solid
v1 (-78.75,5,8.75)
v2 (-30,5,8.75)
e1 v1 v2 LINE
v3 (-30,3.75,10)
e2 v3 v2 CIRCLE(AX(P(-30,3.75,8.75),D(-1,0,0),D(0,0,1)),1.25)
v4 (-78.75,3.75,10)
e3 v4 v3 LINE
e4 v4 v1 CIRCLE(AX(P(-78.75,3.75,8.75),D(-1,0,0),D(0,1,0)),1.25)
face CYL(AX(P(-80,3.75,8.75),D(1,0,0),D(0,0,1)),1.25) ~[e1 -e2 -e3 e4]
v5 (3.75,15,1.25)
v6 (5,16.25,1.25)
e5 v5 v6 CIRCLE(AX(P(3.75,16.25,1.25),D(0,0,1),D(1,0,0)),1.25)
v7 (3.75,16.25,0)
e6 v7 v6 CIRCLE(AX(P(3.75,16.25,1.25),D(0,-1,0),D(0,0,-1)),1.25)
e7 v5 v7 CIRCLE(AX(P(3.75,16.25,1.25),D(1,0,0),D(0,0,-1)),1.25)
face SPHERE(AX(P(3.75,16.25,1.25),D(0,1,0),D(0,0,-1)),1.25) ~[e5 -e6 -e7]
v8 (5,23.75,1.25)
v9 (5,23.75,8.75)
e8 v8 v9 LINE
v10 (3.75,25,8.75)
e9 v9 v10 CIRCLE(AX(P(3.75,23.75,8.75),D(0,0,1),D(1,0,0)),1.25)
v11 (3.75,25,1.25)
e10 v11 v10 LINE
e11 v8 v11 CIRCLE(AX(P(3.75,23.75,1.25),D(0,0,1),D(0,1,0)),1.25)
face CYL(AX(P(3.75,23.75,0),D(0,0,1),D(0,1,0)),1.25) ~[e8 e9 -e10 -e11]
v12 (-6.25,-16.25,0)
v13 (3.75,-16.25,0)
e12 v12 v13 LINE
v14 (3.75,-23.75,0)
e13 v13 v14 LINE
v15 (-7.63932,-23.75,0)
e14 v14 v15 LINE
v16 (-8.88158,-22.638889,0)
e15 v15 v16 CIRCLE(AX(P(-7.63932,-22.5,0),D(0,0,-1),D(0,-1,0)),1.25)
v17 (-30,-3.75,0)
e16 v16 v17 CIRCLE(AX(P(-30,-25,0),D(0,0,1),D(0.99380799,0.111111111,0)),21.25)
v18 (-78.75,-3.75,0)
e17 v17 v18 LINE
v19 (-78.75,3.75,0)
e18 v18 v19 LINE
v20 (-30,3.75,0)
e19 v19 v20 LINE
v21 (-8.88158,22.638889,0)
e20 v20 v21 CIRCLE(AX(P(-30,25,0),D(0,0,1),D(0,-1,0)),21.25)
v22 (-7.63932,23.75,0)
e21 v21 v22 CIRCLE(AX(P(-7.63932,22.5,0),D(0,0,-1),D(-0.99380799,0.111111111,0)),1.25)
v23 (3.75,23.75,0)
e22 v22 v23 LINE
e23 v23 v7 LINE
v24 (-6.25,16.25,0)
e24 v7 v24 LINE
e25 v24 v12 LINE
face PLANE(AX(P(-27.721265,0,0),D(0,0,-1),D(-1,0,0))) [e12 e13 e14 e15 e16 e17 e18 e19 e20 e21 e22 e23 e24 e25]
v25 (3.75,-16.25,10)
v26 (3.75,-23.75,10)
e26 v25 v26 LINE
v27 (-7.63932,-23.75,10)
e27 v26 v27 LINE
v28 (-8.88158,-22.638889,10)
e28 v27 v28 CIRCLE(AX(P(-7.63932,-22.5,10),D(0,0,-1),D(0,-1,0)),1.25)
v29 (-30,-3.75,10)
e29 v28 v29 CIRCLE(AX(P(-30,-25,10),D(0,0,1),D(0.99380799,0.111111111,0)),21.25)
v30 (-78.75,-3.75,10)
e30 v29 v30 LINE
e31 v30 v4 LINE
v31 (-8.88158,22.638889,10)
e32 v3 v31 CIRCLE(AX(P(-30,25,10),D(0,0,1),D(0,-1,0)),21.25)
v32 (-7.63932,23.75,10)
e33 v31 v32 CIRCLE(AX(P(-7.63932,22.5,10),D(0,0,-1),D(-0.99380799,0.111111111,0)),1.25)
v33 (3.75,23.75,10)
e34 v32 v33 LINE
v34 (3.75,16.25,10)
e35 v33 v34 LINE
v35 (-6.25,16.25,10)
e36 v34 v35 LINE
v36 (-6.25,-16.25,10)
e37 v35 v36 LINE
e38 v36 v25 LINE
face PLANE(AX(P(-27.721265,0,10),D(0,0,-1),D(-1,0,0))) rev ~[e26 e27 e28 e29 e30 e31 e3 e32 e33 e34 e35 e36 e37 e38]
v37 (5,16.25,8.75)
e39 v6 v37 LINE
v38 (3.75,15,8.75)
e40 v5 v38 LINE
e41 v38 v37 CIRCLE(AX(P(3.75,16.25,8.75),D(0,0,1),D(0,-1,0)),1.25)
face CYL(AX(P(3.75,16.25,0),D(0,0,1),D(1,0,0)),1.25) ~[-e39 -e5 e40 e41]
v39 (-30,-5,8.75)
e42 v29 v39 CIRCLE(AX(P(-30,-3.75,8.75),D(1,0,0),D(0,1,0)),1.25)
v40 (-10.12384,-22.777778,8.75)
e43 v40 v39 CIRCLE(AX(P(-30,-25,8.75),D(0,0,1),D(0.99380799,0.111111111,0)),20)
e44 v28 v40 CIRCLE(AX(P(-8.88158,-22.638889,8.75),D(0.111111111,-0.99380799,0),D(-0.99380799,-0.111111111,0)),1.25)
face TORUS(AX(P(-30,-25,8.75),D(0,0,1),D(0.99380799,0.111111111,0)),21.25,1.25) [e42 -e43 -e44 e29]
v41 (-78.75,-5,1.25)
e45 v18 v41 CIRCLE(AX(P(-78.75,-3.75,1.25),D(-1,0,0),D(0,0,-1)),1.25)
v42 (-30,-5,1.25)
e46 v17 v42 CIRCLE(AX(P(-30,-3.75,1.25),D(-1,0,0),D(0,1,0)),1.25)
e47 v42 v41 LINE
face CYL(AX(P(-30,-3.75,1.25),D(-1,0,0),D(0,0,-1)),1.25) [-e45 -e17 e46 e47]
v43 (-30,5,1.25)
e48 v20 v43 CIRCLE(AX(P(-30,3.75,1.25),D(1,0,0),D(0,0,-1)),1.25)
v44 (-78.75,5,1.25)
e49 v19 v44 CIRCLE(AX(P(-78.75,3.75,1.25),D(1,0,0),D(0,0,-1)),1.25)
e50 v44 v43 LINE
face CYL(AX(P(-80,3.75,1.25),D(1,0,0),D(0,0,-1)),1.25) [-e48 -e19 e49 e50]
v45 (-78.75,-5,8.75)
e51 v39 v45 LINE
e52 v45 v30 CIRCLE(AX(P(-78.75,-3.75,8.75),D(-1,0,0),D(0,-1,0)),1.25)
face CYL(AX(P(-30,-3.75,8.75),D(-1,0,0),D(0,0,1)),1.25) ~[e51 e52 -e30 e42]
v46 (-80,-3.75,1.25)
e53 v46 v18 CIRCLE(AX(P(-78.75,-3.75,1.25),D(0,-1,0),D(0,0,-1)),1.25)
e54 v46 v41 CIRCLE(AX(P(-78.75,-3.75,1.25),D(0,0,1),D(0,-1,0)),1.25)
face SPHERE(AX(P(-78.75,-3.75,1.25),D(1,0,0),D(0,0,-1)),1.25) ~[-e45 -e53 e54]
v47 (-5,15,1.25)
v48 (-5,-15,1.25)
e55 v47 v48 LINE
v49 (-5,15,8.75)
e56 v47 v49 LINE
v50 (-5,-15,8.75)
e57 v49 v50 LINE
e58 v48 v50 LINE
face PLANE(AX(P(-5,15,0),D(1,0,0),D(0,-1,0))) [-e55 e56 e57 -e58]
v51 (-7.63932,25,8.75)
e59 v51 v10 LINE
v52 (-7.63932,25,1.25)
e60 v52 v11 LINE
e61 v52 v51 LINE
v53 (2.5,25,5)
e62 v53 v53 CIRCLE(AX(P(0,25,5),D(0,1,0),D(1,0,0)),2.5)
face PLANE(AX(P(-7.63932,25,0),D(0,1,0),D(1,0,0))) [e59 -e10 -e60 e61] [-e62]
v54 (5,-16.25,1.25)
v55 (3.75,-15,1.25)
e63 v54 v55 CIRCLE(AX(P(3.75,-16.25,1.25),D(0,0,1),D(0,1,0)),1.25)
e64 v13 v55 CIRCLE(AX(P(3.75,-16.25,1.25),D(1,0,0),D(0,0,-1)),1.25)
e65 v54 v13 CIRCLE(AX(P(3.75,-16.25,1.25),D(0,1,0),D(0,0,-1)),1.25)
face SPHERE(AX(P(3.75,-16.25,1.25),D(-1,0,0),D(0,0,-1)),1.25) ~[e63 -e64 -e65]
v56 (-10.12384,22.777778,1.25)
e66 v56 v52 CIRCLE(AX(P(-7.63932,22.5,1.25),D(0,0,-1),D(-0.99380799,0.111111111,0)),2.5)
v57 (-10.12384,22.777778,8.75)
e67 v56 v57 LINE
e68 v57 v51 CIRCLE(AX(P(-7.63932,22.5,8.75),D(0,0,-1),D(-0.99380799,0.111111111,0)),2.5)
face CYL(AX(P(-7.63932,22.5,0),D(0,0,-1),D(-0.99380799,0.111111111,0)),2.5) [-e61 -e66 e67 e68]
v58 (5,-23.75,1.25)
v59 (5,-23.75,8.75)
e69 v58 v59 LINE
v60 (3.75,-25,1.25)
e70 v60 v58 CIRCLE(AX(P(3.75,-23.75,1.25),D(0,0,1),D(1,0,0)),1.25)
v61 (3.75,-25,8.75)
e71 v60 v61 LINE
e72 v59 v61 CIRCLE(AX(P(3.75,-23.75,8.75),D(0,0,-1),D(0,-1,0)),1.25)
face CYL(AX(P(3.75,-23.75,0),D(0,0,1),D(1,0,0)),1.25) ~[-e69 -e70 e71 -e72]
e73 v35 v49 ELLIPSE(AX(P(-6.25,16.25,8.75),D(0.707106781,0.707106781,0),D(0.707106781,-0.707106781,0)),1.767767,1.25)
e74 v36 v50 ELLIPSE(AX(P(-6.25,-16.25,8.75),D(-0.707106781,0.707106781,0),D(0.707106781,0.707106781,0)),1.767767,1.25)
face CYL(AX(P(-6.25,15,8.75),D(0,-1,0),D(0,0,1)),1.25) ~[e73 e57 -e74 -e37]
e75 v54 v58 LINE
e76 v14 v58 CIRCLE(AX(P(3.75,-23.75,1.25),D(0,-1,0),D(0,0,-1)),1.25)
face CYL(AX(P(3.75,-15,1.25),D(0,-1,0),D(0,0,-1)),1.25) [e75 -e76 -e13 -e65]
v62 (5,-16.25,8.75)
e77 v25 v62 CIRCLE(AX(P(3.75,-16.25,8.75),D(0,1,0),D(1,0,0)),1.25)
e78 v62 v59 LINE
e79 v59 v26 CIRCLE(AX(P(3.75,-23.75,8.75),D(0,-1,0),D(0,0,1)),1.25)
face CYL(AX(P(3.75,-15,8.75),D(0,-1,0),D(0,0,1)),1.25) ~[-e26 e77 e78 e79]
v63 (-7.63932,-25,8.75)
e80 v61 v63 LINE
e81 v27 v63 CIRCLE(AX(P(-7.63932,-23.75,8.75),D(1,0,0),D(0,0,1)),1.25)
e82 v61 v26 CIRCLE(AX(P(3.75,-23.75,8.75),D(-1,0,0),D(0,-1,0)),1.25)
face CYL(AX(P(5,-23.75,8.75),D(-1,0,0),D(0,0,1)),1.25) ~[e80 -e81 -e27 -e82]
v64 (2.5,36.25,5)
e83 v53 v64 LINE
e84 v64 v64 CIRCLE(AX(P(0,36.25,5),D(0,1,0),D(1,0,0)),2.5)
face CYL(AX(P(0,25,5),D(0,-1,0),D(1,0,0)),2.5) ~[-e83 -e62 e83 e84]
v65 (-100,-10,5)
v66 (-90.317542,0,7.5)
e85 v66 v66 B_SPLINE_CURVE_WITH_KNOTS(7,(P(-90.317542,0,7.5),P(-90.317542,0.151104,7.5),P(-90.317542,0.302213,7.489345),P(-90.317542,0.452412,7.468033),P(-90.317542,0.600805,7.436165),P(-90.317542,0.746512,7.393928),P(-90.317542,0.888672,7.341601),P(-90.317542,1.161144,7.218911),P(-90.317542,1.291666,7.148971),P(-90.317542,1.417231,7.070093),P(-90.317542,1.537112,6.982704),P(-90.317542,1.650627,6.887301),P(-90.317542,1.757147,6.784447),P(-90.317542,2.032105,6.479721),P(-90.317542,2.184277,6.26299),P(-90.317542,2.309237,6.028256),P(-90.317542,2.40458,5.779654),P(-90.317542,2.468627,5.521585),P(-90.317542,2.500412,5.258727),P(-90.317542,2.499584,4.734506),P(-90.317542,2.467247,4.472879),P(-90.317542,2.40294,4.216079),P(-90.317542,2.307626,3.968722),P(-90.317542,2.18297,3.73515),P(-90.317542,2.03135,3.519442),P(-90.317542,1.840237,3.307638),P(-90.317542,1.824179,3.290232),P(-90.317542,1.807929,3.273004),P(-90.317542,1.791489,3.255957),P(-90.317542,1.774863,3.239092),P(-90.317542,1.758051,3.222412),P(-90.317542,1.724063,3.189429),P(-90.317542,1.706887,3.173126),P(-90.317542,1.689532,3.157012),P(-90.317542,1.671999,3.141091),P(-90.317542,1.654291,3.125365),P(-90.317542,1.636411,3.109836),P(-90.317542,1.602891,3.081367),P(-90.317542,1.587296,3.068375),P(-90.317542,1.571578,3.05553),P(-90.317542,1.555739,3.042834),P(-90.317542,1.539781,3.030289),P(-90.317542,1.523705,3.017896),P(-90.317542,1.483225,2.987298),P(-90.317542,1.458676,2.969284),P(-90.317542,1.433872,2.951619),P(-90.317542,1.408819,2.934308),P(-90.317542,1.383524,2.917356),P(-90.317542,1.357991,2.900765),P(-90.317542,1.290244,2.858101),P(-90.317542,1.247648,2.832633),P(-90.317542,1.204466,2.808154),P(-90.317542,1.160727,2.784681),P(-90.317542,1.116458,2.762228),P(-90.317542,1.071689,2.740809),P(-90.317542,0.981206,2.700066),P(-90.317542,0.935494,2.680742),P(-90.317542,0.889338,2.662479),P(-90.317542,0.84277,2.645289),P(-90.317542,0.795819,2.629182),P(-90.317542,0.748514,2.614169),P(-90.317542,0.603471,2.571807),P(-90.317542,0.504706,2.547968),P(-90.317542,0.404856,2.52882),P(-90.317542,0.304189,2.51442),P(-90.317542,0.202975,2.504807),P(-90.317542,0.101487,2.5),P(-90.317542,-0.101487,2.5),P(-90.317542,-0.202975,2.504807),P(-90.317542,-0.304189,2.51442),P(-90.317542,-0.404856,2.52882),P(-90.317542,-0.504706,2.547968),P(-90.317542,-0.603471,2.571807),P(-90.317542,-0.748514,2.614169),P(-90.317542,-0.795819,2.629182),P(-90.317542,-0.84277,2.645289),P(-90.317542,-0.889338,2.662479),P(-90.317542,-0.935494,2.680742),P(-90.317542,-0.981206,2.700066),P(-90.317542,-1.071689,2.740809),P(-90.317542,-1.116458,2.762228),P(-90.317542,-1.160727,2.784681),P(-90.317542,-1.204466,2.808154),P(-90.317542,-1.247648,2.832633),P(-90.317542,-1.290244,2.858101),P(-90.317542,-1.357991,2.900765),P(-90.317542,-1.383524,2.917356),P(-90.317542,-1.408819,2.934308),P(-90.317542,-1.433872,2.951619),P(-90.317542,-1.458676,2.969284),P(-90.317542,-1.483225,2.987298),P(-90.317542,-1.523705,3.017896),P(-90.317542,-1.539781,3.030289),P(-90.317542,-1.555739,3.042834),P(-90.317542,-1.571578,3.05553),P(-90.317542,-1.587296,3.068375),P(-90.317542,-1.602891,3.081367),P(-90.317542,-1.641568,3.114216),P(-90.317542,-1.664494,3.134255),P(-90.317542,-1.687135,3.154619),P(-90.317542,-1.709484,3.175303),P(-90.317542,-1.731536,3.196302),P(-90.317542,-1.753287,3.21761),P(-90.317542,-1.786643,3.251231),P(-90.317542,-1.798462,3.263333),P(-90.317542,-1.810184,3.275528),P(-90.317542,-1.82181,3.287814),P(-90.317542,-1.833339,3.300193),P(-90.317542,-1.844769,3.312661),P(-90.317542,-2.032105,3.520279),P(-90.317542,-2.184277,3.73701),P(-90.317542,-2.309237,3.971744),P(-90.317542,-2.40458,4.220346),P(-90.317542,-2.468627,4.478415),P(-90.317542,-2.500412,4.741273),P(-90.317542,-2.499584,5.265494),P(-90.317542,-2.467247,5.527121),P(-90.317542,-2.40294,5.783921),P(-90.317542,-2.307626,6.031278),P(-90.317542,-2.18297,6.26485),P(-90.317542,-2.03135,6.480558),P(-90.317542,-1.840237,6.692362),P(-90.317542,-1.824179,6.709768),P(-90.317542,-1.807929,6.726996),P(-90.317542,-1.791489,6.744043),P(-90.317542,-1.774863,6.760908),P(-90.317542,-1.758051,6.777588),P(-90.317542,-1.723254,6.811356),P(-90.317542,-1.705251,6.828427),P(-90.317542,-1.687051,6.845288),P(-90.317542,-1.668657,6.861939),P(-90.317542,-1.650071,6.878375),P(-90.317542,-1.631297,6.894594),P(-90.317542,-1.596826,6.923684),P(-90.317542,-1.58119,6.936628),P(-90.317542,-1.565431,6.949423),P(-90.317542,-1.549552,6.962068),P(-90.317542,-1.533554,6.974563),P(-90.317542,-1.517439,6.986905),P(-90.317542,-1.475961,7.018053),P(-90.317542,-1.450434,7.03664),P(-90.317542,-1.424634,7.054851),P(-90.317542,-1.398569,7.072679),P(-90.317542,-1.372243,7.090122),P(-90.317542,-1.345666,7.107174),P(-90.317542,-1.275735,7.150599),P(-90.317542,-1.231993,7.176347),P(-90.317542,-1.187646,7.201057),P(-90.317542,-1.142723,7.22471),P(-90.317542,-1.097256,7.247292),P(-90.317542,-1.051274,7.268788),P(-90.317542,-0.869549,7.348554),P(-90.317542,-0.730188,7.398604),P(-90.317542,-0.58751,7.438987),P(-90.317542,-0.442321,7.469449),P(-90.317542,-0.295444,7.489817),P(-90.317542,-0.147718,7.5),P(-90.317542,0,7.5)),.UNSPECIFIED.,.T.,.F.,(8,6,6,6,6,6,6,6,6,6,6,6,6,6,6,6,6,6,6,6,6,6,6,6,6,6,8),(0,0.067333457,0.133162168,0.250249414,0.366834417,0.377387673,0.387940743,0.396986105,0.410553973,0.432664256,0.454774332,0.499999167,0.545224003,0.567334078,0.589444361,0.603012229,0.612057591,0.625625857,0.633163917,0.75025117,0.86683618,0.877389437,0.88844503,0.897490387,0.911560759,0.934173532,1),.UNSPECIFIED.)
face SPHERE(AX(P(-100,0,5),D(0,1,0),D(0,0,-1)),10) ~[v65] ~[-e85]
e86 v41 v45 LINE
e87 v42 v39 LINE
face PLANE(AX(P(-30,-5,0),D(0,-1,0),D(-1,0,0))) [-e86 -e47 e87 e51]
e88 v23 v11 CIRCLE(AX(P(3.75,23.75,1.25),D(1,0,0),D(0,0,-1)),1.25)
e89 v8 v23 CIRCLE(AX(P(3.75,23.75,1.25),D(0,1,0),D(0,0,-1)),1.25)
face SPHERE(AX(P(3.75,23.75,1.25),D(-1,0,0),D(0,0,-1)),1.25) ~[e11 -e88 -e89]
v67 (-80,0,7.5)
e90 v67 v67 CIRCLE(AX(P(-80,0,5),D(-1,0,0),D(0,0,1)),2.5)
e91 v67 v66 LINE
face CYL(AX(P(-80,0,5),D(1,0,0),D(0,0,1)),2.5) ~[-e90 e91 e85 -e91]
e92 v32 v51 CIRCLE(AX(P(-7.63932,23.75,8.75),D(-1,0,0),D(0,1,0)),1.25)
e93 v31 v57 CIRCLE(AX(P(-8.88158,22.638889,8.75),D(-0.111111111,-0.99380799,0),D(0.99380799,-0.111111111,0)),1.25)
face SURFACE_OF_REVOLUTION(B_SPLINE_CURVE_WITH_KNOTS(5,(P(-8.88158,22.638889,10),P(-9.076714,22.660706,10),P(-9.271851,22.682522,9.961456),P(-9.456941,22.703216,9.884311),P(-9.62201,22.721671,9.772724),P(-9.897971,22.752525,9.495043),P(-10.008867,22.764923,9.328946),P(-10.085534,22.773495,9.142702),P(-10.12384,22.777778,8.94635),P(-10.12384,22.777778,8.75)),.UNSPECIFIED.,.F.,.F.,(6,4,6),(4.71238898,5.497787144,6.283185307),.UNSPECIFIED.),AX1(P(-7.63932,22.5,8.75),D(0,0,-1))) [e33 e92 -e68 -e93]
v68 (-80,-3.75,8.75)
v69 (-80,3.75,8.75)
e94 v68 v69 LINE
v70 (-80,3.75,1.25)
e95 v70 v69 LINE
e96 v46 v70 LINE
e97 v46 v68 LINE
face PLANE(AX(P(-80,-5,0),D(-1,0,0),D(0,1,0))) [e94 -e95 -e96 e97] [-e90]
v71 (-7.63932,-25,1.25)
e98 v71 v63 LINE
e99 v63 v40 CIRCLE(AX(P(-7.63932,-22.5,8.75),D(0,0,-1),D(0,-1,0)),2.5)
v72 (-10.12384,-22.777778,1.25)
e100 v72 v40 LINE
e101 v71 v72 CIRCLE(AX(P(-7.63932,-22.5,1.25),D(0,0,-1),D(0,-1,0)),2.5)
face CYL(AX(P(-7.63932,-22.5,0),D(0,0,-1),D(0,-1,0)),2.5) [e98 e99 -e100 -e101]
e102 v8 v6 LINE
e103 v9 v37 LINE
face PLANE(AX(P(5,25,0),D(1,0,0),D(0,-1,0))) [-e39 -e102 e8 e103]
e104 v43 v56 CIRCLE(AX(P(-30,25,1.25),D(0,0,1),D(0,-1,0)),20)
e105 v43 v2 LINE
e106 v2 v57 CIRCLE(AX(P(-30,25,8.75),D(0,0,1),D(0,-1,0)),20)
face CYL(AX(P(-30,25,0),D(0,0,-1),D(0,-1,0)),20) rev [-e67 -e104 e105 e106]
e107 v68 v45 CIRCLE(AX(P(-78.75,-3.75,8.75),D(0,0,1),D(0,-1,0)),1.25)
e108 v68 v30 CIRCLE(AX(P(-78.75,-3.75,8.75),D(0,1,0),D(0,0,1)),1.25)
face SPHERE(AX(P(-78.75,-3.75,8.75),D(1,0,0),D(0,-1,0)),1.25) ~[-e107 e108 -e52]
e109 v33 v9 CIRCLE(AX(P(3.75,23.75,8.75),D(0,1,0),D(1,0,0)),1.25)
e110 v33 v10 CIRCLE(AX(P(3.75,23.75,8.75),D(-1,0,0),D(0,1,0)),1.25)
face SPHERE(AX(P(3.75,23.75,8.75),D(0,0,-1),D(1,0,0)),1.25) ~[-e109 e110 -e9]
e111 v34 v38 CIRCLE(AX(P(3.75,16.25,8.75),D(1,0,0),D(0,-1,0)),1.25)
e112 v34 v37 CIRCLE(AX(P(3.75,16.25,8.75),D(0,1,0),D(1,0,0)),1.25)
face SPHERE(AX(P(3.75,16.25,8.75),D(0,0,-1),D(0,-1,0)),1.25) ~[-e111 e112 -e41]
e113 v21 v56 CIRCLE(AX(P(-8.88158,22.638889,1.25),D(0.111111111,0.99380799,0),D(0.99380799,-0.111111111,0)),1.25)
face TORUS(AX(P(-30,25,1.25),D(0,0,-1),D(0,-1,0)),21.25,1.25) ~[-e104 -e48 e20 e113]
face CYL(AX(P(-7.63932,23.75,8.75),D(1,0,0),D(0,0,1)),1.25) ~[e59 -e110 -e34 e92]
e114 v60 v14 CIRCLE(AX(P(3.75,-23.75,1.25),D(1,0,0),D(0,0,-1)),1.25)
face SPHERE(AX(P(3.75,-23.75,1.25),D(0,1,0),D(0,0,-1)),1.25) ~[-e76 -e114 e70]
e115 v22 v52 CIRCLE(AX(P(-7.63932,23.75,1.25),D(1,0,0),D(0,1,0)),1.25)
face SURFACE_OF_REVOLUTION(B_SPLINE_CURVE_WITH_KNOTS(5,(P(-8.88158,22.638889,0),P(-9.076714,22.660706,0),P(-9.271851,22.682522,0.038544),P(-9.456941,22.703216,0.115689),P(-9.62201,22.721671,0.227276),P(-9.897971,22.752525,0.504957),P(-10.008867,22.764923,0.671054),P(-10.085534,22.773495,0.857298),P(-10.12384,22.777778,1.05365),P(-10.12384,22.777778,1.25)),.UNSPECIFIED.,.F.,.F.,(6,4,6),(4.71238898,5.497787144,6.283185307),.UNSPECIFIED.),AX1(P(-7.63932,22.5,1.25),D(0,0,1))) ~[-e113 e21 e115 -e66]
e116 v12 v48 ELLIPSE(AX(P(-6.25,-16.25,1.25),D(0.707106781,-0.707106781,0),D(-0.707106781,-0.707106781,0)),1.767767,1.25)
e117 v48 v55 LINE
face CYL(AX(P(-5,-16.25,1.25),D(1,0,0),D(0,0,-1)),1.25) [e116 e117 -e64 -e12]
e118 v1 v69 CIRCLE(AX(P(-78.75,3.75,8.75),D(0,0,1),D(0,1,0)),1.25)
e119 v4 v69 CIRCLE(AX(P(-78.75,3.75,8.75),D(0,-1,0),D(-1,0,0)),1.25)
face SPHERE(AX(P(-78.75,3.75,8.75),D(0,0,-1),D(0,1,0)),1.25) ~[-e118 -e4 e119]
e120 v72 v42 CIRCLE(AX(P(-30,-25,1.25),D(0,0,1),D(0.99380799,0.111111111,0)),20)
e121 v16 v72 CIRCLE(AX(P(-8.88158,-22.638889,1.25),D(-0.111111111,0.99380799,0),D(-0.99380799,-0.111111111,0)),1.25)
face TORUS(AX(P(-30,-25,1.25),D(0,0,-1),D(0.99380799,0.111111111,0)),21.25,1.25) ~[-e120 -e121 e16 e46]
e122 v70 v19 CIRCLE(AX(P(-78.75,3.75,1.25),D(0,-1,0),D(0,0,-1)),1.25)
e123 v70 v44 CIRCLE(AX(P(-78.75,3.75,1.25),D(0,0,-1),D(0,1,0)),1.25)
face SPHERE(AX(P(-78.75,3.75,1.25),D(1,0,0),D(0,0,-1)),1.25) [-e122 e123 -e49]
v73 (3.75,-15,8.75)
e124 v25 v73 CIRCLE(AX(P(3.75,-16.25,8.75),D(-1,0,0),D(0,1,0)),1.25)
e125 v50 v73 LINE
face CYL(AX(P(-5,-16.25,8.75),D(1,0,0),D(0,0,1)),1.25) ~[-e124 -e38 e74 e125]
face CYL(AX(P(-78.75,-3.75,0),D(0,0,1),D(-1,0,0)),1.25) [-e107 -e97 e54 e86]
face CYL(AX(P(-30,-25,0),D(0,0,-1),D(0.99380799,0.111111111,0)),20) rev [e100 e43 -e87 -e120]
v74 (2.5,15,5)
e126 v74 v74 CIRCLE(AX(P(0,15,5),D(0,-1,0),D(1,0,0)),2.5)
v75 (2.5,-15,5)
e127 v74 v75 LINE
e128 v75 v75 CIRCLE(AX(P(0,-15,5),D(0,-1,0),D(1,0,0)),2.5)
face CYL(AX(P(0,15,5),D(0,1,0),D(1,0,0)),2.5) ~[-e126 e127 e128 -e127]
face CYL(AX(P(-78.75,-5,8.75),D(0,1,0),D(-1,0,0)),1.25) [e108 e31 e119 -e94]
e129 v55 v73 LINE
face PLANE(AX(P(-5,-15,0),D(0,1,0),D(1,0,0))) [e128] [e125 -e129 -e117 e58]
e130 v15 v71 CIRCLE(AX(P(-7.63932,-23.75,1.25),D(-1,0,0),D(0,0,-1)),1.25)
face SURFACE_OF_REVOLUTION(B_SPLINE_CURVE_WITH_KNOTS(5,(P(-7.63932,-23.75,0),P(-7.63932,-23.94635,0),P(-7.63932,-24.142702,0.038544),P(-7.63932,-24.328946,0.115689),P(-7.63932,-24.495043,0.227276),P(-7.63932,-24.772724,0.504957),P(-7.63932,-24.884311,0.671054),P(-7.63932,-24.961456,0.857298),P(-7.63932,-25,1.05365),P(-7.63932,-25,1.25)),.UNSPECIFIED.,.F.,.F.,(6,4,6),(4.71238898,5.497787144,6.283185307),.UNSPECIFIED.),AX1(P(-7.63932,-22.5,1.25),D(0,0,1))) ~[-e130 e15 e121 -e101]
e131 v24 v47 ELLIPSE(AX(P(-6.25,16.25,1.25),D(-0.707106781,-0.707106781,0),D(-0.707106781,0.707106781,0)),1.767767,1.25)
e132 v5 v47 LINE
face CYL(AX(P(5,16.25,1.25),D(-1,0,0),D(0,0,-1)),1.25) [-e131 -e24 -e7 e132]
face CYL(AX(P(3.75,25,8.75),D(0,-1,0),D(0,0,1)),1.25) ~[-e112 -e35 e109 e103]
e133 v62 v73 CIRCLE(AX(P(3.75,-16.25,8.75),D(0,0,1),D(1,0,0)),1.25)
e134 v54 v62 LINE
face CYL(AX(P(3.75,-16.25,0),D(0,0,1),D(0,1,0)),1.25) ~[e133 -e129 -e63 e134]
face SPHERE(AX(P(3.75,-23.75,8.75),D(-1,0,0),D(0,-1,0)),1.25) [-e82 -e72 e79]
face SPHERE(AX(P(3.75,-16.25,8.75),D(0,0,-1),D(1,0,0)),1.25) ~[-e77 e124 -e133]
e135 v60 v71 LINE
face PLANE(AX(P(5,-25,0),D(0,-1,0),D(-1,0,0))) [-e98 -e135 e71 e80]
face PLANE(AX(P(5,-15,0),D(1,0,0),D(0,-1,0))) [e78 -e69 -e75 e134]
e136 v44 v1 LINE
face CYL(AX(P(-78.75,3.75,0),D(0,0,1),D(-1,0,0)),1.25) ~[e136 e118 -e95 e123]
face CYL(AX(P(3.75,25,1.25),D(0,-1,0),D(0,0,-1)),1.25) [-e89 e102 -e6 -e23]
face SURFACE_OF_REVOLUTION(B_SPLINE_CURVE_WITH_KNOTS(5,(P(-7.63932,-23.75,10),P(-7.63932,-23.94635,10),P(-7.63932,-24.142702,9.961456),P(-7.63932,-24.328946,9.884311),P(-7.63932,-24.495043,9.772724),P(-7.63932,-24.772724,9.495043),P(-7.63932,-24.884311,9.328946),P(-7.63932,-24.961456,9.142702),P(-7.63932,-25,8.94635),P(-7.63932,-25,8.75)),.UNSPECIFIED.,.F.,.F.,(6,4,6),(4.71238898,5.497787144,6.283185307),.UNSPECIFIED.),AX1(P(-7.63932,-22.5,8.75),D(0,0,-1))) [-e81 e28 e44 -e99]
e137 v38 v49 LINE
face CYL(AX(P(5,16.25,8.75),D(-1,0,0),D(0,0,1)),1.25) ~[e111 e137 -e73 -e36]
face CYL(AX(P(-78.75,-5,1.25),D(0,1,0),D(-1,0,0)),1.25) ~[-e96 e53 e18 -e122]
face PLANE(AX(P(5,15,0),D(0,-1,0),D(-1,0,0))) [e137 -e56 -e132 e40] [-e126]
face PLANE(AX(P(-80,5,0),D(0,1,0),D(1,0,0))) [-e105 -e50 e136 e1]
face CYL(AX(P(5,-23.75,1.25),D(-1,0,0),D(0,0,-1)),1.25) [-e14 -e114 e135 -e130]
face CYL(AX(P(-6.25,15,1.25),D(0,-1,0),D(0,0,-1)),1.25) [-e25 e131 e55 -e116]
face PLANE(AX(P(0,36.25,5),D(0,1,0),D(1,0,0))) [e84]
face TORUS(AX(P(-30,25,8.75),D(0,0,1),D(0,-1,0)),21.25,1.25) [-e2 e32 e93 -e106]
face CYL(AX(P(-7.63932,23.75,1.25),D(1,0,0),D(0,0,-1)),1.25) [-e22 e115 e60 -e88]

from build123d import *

# Parameters (mm, degrees)
BOSS_EXTRUDE2_DEPTH = 10
SKETCH2_R           = 2.5
BOSS_EXTRUDE3_DEPTH = 20
SKETCH5_R           = 2.5
BOSS_EXTRUDE4_DEPTH = 30
SKETCH6_R           = 2.5
BOSS_EXTRUDE5_DEPTH = 11.25
FILLET1_R           = 1.25


with BuildPart() as part:
    # Sketch1 → Boss-Extrude2 (new body)
    with BuildSketch(Plane.XY):
        with BuildLine():
            Line((-80, 5), (-30, 5))
            ThreePointArc((-30, 5), (-16.666666667, 10.09288015), (-10.1238402, 22.777777778))
            ThreePointArc((-10.1238402, 22.777777778), (-9.305986892, 24.363389981), (-7.639320225, 25))
            Line((-7.639320225, 25), (5, 25))
            Line((5, 25), (5, 15))
            Line((5, 15), (-5, 15))
            Line((-5, 15), (-5, -15))
            Line((-5, -15), (5, -15))
            Line((5, -15), (5, -25))
            Line((5, -25), (-7.639320225, -25))
            ThreePointArc((-7.639320225, -25), (-9.305986892, -24.363389981), (-10.1238402, -22.777777778))
            ThreePointArc((-10.1238402, -22.777777778), (-16.666666667, -10.09288015), (-30, -5))
            Line((-30, -5), (-80, -5))
            Line((-80, -5), (-80, 5))
        make_face()
    extrude(amount=BOSS_EXTRUDE2_DEPTH)

    # Sketch2 → Boss-Extrude3 (add)
    with BuildSketch(Plane.ZY.offset(80)):
        with Locations((5, 0)):
            Circle(SKETCH2_R)
    extrude(amount=BOSS_EXTRUDE3_DEPTH)

    # Sketch3 → Revolve1 (revolve)
    with BuildSketch(Plane.ZY.offset(100)):
        with BuildLine():
            Line((5, 10), (5, -10))
            ThreePointArc((5, -10), (-5, 0), (5, 10))
        make_face()
    revolve(axis=Axis((-100, 10, 5), (0, -1, 0)))

    # Sketch5 → Boss-Extrude4 (add)
    with BuildSketch(Plane.XZ.offset(-15)):
        with Locations((0, 5)):
            Circle(SKETCH5_R)
    extrude(amount=BOSS_EXTRUDE4_DEPTH)

    # Sketch6 → Boss-Extrude5 (add)
    with BuildSketch(Plane(origin=(0, 25, 0), x_dir=(1, 0, 0), z_dir=(0, 1, 0))):
        with Locations((0, -5)):
            Circle(SKETCH6_R)
    extrude(amount=BOSS_EXTRUDE5_DEPTH)

    # Fillet1
    fillet1_edges = [part.edges().sort_by_distance(p)[0] for p in [
        (-16.666666667, -10.09288015, 10),
        (-55, 5, 0),
        (-16.666666667, 10.09288015, 0),
        (-9.305986892, 24.363389981, 0),
        (-1.319660113, 25, 0),
        (5, 20, 0),
        (0, 15, 0),
        (-5, 0, 0),
        (0, -15, 0),
        (-9.305986892, -24.363389981, 10),
        (5, -20, 0),
        (-1.319660113, -25, 0),
        (-9.305986892, -24.363389981, 0),
        (-16.666666667, -10.09288015, 0),
        (-55, -5, 0),
        (-80, 0, 0),
        (-1.319660113, -25, 10),
        (-80, 5, 5),
        (5, 25, 5),
        (5, 15, 5),
        (5, -15, 5),
        (5, -25, 5),
        (5, -20, 10),
        (-80, -5, 5),
        (0, -15, 10),
        (-5, 0, 10),
        (0, 15, 10),
        (5, 20, 10),
        (-1.319660113, 25, 10),
        (-9.305986892, 24.363389981, 10),
        (-80, 0, 10),
        (-16.666666667, 10.09288015, 10),
        (-55, 5, 10),
        (-55, -5, 10),
    ]]
    fillet(fillet1_edges, radius=FILLET1_R)


solid = part.part
